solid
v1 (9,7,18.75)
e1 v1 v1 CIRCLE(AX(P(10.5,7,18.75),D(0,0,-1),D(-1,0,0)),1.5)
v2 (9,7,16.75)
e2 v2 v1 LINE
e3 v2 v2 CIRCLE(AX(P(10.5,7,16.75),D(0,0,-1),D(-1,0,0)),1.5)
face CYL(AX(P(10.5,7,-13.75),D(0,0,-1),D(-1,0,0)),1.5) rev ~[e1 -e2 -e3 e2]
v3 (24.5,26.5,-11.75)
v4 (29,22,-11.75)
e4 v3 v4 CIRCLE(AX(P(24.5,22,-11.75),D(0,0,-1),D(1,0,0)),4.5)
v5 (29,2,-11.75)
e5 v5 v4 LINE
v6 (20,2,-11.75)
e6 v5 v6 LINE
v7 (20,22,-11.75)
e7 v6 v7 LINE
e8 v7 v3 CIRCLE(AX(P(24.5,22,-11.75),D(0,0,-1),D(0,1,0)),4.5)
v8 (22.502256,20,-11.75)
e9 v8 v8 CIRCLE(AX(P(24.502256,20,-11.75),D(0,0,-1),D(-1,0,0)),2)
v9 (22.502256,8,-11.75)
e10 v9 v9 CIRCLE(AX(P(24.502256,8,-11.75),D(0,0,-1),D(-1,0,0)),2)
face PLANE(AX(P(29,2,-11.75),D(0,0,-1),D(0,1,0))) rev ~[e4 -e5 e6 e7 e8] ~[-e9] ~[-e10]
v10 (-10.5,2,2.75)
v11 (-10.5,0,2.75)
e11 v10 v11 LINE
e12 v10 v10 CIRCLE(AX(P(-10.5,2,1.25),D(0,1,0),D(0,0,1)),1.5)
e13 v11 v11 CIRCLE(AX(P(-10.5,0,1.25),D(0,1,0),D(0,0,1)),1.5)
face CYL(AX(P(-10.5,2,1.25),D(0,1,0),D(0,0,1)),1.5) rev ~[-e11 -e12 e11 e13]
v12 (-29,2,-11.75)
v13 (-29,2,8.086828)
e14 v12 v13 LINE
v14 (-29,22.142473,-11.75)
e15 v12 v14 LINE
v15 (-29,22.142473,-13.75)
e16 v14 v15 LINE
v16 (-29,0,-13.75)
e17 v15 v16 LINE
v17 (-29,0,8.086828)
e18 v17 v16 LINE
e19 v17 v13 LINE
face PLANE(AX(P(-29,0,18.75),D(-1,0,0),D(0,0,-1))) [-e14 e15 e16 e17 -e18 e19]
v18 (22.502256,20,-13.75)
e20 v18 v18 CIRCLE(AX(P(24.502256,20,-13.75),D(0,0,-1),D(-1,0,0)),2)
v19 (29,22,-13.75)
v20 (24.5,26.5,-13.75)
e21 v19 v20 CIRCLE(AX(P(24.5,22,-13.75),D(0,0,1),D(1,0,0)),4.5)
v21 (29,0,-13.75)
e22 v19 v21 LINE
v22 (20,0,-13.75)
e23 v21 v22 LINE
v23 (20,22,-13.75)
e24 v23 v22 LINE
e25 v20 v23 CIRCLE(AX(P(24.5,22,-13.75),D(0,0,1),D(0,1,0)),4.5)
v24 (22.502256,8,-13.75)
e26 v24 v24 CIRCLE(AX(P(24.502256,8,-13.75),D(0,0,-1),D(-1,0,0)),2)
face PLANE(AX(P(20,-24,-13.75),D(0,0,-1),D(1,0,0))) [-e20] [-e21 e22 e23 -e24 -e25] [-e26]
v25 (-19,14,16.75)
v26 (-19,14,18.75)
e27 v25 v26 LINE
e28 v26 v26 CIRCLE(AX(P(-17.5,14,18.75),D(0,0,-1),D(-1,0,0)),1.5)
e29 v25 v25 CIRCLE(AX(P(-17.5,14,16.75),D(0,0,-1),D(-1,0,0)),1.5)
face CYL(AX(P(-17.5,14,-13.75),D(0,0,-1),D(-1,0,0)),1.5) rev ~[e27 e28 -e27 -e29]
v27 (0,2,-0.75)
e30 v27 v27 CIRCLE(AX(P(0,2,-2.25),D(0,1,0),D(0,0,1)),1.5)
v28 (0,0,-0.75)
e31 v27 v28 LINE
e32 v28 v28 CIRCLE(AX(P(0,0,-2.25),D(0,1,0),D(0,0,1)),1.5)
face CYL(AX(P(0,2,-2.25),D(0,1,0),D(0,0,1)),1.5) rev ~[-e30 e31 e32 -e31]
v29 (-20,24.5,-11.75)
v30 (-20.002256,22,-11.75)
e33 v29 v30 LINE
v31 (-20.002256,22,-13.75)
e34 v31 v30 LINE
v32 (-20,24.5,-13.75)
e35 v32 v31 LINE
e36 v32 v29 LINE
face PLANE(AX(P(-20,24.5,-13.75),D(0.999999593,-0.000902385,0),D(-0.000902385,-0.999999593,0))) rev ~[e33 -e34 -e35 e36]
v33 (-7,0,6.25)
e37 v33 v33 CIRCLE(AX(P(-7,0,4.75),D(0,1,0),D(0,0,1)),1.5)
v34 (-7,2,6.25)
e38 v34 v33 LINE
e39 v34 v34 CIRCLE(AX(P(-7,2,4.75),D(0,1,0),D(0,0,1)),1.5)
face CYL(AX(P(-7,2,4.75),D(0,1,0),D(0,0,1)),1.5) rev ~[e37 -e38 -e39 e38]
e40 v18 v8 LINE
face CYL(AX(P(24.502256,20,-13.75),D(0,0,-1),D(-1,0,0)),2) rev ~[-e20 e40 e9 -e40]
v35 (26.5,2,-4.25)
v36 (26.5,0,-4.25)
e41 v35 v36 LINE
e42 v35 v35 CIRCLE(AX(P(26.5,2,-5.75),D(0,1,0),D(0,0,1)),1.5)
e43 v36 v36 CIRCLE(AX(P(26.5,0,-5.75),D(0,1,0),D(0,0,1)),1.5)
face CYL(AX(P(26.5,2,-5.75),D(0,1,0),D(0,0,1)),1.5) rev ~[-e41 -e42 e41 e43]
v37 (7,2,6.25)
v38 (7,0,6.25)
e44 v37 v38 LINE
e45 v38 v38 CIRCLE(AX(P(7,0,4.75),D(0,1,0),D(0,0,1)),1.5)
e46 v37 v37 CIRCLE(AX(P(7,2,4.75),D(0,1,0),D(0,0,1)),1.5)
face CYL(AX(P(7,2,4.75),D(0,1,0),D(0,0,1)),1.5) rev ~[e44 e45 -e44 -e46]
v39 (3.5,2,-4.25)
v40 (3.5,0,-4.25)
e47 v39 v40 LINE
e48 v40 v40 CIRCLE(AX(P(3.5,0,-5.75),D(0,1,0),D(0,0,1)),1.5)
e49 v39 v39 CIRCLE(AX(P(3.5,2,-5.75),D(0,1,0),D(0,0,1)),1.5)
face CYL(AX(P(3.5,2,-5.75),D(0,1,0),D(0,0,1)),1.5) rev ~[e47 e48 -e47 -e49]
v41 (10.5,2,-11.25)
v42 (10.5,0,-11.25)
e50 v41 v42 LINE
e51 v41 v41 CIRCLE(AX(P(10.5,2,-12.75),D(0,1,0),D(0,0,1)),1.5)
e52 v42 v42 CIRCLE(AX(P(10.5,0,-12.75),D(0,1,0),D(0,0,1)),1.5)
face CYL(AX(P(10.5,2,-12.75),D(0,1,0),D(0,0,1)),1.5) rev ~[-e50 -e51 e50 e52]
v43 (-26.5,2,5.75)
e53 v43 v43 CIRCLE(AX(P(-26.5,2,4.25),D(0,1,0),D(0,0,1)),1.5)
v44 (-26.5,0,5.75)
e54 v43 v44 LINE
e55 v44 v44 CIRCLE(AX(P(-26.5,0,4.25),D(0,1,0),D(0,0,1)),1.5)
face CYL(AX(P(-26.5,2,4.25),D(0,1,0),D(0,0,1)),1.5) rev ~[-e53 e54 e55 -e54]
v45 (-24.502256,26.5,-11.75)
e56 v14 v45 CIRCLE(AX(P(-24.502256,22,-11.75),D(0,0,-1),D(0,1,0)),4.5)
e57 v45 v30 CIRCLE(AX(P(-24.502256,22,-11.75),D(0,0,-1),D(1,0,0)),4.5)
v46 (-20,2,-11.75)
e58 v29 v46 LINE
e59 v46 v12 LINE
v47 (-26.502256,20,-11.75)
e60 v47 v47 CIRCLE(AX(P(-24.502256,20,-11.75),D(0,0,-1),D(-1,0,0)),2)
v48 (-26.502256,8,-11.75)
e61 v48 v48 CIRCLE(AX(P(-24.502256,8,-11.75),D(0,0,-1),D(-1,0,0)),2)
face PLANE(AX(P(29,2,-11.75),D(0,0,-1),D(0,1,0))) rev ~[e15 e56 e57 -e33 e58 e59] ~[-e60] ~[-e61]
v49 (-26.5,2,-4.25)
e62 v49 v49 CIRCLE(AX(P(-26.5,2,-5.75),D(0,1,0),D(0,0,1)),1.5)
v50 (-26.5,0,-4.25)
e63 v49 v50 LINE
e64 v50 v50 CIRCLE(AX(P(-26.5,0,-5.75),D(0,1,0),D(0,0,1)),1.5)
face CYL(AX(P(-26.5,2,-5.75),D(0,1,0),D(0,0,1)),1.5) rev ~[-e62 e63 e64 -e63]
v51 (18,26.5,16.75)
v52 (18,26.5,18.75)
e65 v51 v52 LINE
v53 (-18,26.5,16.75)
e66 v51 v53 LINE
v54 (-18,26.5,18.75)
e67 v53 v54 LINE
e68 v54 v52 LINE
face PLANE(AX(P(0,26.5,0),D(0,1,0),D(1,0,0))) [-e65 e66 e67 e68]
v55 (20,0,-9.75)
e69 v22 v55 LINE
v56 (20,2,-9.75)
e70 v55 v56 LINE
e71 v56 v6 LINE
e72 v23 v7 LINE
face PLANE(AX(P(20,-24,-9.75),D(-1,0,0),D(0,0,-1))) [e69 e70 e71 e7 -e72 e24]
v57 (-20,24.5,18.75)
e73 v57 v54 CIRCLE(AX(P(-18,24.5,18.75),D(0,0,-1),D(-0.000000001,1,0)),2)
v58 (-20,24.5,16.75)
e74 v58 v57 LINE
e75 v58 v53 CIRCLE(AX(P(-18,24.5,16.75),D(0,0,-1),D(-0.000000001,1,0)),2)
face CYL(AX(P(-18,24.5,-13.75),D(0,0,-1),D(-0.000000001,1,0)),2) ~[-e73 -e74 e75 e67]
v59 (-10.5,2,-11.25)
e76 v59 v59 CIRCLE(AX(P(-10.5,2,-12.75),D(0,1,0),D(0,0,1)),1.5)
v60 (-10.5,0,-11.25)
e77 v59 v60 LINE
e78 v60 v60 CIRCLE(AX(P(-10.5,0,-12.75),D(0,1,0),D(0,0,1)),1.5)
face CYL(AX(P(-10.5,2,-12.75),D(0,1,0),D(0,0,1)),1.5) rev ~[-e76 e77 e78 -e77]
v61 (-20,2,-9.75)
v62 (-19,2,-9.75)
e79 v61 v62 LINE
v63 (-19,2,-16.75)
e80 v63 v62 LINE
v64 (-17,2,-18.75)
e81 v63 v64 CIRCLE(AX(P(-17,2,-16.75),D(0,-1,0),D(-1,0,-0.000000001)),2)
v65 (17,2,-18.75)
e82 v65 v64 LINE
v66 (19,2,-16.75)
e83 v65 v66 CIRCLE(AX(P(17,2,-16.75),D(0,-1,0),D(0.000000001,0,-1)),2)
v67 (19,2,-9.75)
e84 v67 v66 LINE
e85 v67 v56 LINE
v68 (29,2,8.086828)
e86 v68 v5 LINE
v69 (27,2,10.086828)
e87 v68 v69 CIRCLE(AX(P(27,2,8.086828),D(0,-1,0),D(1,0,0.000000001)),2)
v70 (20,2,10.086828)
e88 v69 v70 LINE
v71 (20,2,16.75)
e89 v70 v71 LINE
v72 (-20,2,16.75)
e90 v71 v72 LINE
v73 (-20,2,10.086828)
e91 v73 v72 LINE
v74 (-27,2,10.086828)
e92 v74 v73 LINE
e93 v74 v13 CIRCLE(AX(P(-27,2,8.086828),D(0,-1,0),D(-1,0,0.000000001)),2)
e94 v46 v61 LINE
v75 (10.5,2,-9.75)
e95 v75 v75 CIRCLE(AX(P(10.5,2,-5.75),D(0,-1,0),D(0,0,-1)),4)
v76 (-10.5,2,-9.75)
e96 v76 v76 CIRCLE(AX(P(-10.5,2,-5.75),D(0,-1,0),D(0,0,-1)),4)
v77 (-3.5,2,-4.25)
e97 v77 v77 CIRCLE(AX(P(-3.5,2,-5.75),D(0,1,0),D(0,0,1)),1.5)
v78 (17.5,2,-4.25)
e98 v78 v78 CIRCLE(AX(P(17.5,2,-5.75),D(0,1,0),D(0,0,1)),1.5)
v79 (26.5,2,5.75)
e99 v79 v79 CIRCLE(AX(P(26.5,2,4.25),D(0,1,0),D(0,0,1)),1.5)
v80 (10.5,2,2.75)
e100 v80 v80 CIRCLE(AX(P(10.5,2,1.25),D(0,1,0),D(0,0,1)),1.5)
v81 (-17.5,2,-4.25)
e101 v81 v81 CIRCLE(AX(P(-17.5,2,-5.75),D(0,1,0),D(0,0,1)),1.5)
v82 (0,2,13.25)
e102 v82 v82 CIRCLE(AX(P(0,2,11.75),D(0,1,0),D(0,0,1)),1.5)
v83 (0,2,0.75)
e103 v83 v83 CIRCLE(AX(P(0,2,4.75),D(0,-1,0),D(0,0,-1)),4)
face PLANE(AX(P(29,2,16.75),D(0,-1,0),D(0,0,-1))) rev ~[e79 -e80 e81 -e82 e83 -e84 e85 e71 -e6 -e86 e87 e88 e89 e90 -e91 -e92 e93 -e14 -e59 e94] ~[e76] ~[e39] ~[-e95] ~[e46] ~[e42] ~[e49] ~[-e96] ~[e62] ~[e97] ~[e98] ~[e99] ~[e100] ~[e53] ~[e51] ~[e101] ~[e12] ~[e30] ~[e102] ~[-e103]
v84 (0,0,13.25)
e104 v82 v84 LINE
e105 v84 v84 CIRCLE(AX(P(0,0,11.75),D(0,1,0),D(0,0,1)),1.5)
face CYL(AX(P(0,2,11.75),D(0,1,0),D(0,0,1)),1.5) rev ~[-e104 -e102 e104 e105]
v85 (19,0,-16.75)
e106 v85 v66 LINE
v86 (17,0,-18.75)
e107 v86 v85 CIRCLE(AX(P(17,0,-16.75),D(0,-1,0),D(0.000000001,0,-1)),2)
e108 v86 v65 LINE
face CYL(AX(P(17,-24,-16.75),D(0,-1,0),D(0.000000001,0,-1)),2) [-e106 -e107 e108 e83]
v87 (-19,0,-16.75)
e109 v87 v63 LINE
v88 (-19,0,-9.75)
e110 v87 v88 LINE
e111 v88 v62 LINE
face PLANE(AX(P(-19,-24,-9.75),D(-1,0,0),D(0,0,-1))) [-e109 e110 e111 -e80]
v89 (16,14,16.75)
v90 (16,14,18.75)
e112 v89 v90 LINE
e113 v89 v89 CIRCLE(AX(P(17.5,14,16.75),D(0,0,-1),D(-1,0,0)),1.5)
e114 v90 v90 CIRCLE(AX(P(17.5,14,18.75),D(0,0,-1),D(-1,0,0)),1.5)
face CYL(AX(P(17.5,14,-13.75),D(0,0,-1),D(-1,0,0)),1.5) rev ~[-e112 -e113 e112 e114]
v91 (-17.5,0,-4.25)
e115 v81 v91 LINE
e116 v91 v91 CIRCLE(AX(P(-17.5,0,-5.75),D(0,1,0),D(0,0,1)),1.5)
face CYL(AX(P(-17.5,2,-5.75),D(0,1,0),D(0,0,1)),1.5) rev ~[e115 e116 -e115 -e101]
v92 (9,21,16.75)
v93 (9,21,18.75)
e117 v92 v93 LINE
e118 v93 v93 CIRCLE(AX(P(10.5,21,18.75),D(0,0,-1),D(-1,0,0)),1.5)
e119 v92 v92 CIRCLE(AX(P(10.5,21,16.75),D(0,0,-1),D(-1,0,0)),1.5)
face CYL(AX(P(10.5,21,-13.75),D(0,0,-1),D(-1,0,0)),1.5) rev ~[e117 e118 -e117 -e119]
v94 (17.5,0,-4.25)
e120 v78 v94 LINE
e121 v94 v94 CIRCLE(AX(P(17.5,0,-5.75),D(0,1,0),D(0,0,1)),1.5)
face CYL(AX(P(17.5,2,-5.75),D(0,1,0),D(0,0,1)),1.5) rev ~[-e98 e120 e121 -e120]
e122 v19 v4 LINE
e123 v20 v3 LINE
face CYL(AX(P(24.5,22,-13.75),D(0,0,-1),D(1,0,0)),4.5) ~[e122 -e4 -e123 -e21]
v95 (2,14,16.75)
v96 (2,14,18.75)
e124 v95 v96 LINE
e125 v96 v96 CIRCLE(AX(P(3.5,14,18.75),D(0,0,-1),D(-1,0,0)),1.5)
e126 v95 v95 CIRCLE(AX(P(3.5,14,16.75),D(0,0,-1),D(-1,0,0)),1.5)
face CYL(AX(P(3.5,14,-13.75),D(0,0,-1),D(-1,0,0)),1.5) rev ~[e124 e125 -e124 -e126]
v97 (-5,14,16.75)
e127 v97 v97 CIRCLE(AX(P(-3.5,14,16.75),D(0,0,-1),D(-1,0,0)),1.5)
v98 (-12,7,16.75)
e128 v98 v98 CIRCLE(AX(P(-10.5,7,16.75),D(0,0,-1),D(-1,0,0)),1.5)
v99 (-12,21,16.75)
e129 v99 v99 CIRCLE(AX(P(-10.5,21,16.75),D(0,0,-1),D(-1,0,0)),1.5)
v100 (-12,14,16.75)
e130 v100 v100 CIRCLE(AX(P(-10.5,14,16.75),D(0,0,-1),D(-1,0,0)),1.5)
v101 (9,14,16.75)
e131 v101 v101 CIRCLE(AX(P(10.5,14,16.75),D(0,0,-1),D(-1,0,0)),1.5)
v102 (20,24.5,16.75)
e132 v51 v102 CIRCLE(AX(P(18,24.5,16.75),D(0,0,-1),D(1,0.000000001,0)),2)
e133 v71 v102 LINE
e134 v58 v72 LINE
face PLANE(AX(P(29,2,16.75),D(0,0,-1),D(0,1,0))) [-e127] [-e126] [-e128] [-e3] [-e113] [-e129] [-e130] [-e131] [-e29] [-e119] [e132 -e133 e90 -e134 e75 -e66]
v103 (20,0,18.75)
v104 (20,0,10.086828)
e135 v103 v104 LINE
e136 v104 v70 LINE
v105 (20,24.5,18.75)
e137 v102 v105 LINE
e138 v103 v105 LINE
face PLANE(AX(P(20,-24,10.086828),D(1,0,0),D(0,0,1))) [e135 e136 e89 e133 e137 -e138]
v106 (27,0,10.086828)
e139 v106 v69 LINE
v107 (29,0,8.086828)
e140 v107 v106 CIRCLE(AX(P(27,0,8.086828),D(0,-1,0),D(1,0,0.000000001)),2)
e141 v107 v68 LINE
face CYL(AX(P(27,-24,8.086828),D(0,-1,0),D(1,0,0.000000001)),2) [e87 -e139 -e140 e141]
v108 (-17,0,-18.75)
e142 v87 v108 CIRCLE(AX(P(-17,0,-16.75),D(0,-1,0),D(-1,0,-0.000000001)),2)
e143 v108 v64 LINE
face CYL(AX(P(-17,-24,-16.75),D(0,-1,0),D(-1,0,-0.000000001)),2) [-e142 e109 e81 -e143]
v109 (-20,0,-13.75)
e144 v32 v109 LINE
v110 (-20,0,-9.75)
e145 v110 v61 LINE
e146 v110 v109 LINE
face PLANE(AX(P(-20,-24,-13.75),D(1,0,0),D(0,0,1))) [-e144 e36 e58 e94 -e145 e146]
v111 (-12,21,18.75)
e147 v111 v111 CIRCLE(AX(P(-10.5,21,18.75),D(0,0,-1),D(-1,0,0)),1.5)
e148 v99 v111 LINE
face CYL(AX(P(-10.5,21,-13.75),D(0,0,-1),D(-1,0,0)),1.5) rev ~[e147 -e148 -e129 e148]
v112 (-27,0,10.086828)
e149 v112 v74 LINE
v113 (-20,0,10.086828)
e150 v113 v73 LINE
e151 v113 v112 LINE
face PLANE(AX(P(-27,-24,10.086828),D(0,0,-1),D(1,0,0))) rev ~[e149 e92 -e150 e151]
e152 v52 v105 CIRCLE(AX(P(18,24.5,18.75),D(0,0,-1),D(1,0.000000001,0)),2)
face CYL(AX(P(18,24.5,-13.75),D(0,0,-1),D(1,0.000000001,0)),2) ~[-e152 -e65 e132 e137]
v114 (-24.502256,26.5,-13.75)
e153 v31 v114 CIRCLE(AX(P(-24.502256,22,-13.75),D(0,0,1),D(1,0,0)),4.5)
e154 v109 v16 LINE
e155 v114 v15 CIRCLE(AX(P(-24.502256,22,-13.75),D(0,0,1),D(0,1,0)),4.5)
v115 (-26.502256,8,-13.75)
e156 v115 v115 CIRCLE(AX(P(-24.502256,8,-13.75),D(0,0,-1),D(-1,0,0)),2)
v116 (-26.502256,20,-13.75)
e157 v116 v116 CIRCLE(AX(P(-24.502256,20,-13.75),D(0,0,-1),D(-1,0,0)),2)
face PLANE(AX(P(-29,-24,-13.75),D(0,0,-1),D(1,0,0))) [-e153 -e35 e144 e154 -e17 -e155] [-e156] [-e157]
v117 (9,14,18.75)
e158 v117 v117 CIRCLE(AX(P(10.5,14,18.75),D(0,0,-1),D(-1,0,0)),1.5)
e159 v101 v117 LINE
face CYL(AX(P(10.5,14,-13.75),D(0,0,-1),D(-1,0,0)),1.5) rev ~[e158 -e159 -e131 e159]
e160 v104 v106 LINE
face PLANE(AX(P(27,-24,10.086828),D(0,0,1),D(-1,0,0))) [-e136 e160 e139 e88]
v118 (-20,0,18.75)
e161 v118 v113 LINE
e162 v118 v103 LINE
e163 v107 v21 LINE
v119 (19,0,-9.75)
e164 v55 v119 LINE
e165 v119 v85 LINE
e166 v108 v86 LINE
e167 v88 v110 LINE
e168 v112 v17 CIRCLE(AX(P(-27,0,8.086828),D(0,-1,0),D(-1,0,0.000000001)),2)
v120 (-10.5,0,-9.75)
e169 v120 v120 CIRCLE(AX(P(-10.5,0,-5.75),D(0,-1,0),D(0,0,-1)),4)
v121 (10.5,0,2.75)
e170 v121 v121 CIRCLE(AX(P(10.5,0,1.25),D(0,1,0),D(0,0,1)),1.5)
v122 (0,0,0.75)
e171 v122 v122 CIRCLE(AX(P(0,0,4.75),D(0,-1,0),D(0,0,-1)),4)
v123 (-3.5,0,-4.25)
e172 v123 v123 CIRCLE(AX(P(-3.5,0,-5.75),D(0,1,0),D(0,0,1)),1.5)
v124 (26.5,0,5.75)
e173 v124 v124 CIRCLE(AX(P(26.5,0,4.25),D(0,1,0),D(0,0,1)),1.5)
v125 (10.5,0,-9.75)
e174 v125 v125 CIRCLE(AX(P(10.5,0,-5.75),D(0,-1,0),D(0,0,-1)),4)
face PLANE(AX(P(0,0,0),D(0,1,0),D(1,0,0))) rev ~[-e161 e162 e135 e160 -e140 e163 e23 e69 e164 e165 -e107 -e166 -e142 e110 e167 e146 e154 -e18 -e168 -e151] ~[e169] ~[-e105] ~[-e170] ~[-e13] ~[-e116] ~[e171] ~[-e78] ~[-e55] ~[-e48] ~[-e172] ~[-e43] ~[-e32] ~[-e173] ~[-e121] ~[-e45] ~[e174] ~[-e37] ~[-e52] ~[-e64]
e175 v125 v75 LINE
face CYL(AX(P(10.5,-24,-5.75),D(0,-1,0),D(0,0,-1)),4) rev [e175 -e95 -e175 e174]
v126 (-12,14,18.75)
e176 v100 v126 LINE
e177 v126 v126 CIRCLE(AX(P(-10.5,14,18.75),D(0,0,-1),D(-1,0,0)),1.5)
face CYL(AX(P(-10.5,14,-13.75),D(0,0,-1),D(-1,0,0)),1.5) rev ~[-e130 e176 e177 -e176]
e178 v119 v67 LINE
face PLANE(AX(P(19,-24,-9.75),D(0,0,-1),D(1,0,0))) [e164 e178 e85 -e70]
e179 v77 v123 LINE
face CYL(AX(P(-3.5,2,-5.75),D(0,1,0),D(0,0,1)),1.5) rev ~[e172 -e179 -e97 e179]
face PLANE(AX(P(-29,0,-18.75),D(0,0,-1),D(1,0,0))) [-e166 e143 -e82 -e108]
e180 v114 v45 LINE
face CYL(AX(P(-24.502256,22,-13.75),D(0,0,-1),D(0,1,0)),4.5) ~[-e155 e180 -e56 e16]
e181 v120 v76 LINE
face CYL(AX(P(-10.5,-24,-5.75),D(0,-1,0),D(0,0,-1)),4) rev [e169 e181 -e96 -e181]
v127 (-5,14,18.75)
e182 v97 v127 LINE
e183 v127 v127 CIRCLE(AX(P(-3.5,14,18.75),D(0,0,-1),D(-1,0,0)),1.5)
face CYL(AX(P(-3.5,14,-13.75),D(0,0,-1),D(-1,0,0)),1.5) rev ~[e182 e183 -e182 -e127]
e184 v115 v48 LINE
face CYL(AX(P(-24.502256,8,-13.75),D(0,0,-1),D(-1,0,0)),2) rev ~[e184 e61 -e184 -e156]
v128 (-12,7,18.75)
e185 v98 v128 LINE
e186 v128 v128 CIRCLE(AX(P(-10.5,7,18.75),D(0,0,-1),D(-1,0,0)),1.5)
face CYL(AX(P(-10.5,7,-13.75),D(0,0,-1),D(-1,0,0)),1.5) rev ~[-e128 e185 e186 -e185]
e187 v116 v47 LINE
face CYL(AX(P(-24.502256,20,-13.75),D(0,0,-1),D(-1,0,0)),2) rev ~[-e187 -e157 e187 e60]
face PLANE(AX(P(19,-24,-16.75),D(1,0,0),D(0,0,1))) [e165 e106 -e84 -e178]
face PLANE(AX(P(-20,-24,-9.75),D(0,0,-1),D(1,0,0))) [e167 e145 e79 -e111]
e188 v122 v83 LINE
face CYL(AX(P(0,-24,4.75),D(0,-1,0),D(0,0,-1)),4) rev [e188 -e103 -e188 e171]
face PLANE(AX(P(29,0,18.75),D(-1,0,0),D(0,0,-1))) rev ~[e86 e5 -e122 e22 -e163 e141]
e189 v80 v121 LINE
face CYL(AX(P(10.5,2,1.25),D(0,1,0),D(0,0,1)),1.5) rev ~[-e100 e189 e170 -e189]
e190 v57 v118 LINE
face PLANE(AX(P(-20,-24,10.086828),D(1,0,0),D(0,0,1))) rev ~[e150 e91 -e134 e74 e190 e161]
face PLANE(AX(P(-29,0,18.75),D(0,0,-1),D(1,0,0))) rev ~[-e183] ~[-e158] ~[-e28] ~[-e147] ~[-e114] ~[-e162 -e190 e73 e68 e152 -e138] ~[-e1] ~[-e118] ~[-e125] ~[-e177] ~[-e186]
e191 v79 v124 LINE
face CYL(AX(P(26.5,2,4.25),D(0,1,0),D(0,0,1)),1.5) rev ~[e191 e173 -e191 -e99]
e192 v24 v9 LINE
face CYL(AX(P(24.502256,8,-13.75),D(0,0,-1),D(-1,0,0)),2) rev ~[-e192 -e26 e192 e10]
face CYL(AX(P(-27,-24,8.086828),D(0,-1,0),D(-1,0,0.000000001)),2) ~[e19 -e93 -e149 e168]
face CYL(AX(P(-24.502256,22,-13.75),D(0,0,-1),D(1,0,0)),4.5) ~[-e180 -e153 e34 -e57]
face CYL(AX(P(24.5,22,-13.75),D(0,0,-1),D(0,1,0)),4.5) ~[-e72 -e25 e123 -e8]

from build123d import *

# Parameters (mm, degrees)
SKETCH_1_W               = 58
SKETCH_1_H               = 37.5
EXTRUDE_1_DEPTH          = 26.5
SKETCH_3_W               = 8.53894027
SKETCH_3_H               = 24.5
SKETCH_3_W_2             = 28.5
SKETCH_3_H_2             = 25.319580512
CUT_EXTRUDE_1_DEPTH      = 67.466626964
CUT_EXTRUDE_2_DEPTH      = 43.341616644
CUT_EXTRUDE_2_DEPTH_BACK = 26
SKETCH_4_W               = 1
SKETCH_4_H               = 2
SKETCH_4_R               = 4
SKETCH_5_W               = 38
SKETCH_5_H               = 24.5
CUT_EXTRUDE_3_DEPTH      = 26
SKETCH_6_R               = 1.5
CUT_EXTRUDE_4_DEPTH      = 43.341616644
SKETCH_7_R               = 2
SKETCH_7_R_2             = 1.5
CUT_EXTRUDE_5_DEPTH      = 51.985291997


with BuildPart() as part:
    # 草图1 → 凸台-拉伸1 (new body)
    with BuildSketch(Plane(origin=(0, 0, 0), x_dir=(1, 0, 0), z_dir=(0, 1, 0))):
        Rectangle(SKETCH_1_W, SKETCH_1_H)
    extrude(amount=EXTRUDE_1_DEPTH)

    # 草图3 → 切除-拉伸1 (cut, through all)
    with BuildSketch(Plane(origin=(29, 0, 0), x_dir=(0, 0, -1), z_dir=(1, 0, 0))):
        with Locations((18.019470135, 14.25)):
            Rectangle(SKETCH_3_W, SKETCH_3_H)
        with Locations((-2.5, 14.659790256)):
            Rectangle(SKETCH_3_W_2, SKETCH_3_H_2)
    extrude(amount=-CUT_EXTRUDE_1_DEPTH, mode=Mode.SUBTRACT)

    # 草图4 → 切除-拉伸2 (cut, two sides: drawn at the far end of the back side and taken through both)
    with BuildSketch(Plane(origin=(0, 2, 0), x_dir=(1, 0, 0), z_dir=(0, 1, 0)).offset(-CUT_EXTRUDE_2_DEPTH_BACK)):
        with BuildLine():
            Line((-29, 18.75), (-29, 13.75))
            Line((-29, 13.75), (-20, 13.75))
            Line((-20, 13.75), (-20, 11.75))
            Line((-20, 11.75), (-19, 11.75))
            Line((-19, 11.75), (-19, 16.75))
            ThreePointArc((-19, 16.75), (-18.414213562, 18.164213562), (-17, 18.75))
            Line((-17, 18.75), (-29, 18.75))
        make_face()
        with BuildLine():
            Line((29, 18.75), (17, 18.75))
            ThreePointArc((17, 18.75), (18.414213562, 18.164213562), (19, 16.75))
            Line((19, 16.75), (19, 11.75))
            Line((19, 11.75), (20, 11.75))
            Line((20, 11.75), (20, 13.75))
            Line((20, 13.75), (29, 13.75))
            Line((29, 13.75), (29, 18.75))
        make_face()
        with Locations((-19.5, 10.75)):
            Rectangle(SKETCH_4_W, SKETCH_4_H)
        with Locations((19.5, 10.75)):
            Rectangle(SKETCH_4_W, SKETCH_4_H)
        with BuildLine():
            Line((20, -21.492429243), (29, -21.492429243))
            Line((29, -21.492429243), (29, -8.086828318))
            ThreePointArc((29, -8.086828318), (28.414213562, -9.50104188), (27, -10.086828318))
            Line((27, -10.086828318), (20, -10.086828318))
            Line((20, -10.086828318), (20, -21.492429243))
        make_face()
        with BuildLine():
            Line((-20, -21.492429243), (-29, -21.492429243))
            Line((-29, -21.492429243), (-29, -8.086828318))
            ThreePointArc((-29, -8.086828318), (-28.414213562, -9.50104188), (-27, -10.086828318))
            Line((-27, -10.086828318), (-20, -10.086828318))
            Line((-20, -10.086828318), (-20, -21.492429243))
        make_face()
        with Locations(Location((-10.5, 5.75, 0), (0, 0, 90))):
            Circle(SKETCH_4_R)
        with Locations(Location((0, -4.75, 0), (0, 0, 90))):
            Circle(SKETCH_4_R)
        with Locations(Location((10.5, 5.75, 0), (0, 0, 90))):
            Circle(SKETCH_4_R)
    extrude(amount=CUT_EXTRUDE_2_DEPTH + CUT_EXTRUDE_2_DEPTH_BACK, mode=Mode.SUBTRACT)

    # 草图5 → 切除-拉伸3 (cut)
    with BuildSketch(Plane(origin=(0, 0, -13.75), x_dir=(-1, 0, 0), z_dir=(0, 0, -1))):
        with Locations((0, 14.25)):
            Rectangle(SKETCH_5_W, SKETCH_5_H)
    extrude(amount=-CUT_EXTRUDE_3_DEPTH, mode=Mode.SUBTRACT)

    # 草图6 → 切除-拉伸4 (cut, through all)
    with BuildSketch(Plane(origin=(0, 2, 0), x_dir=(1, 0, 0), z_dir=(0, 1, 0))):
        with Locations(Location((-26.5, 5.75, 0), (0, 0, 270))):
            Circle(SKETCH_6_R)
        with Locations(Location((-26.5, -4.25, 0), (0, 0, 270))):
            Circle(SKETCH_6_R)
        with Locations(Location((-17.5, 5.75, 0), (0, 0, 270))):
            Circle(SKETCH_6_R)
        with Locations(Location((-10.5, 12.75, 0), (0, 0, 270))):
            Circle(SKETCH_6_R)
        with Locations(Location((10.5, 12.75, 0), (0, 0, 270))):
            Circle(SKETCH_6_R)
        with Locations(Location((-3.5, 5.75, 0), (0, 0, 270))):
            Circle(SKETCH_6_R)
        with Locations(Location((0, 2.25, 0), (0, 0, 270))):
            Circle(SKETCH_6_R)
        with Locations(Location((3.5, 5.75, 0), (0, 0, 270))):
            Circle(SKETCH_6_R)
        with Locations(Location((-10.5, -1.25, 0), (0, 0, 270))):
            Circle(SKETCH_6_R)
        with Locations(Location((-7, -4.75, 0), (0, 0, 270))):
            Circle(SKETCH_6_R)
        with Locations(Location((0, -11.75, 0), (0, 0, 270))):
            Circle(SKETCH_6_R)
        with Locations(Location((7, -4.75, 0), (0, 0, 270))):
            Circle(SKETCH_6_R)
        with Locations(Location((10.5, -1.25, 0), (0, 0, 270))):
            Circle(SKETCH_6_R)
        with Locations(Location((17.5, 5.75, 0), (0, 0, 270))):
            Circle(SKETCH_6_R)
        with Locations(Location((26.5, 5.75, 0), (0, 0, 270))):
            Circle(SKETCH_6_R)
        with Locations(Location((26.5, -4.25, 0), (0, 0, 270))):
            Circle(SKETCH_6_R)
    extrude(amount=-CUT_EXTRUDE_4_DEPTH, mode=Mode.SUBTRACT)

    # 草图7 → 切除-拉伸5 (cut, through all)
    with BuildSketch(Plane(origin=(0, 0, -13.75), x_dir=(-1, 0, 0), z_dir=(0, 0, -1))):
        with BuildLine():
            ThreePointArc((-29, 22), (-27.681980515, 25.181980515), (-24.5, 26.5))
            Line((-24.5, 26.5), (-29, 26.5))
            Line((-29, 26.5), (-29, 22))
        make_face()
        with BuildLine():
            ThreePointArc((-24.5, 26.5), (-21.318019485, 25.181980515), (-20, 22))
            Line((-20, 22), (-20, 24.5))
            Line((-20, 24.5), (-20, 26.5))
            Line((-20, 26.5), (-24.5, 26.5))
        make_face()
        with Locations((-24.502255963, 20)):
            Circle(SKETCH_7_R)
        with Locations((-24.502255963, 8)):
            Circle(SKETCH_7_R)
        with BuildLine():
            Line((-20, 26.5), (-20, 24.5))
            ThreePointArc((-20, 24.5), (-19.414213562, 25.914213562), (-18, 26.5))
            Line((-18, 26.5), (-20, 26.5))
        make_face()
        with BuildLine():
            Line((24.502255963, 26.5), (18, 26.5))
            ThreePointArc((18, 26.5), (19.414213562, 25.914213562), (20, 24.5))
            Line((20, 24.5), (20.002255963, 22))
            ThreePointArc((20.002255963, 22), (21.320275448, 25.181980515), (24.502255963, 26.5))
        make_face()
        with BuildLine():
            Line((29, 26.5), (24.502255963, 26.5))
            ThreePointArc((24.502255963, 26.5), (27.684236479, 25.181980515), (29.002255963, 22))
            Line((29.002255963, 22), (29, 26.5))
        make_face()
        with Locations((24.502255963, 20)):
            Circle(SKETCH_7_R)
        with Locations((10.5, 21)):
            Circle(SKETCH_7_R_2)
        with Locations((-10.5, 7)):
            Circle(SKETCH_7_R_2)
        with Locations((3.5, 14)):
            Circle(SKETCH_7_R_2)
        with Locations((10.5, 14)):
            Circle(SKETCH_7_R_2)
        with Locations((17.5, 14)):
            Circle(SKETCH_7_R_2)
        with Locations((24.502255963, 8)):
            Circle(SKETCH_7_R)
        with Locations((10.5, 7)):
            Circle(SKETCH_7_R_2)
        with Locations((-17.5, 14)):
            Circle(SKETCH_7_R_2)
        with Locations((-10.5, 14)):
            Circle(SKETCH_7_R_2)
        with Locations((-10.5, 21)):
            Circle(SKETCH_7_R_2)
        with Locations((-3.5, 14)):
            Circle(SKETCH_7_R_2)
    extrude(amount=-CUT_EXTRUDE_5_DEPTH, mode=Mode.SUBTRACT)


solid = part.part
